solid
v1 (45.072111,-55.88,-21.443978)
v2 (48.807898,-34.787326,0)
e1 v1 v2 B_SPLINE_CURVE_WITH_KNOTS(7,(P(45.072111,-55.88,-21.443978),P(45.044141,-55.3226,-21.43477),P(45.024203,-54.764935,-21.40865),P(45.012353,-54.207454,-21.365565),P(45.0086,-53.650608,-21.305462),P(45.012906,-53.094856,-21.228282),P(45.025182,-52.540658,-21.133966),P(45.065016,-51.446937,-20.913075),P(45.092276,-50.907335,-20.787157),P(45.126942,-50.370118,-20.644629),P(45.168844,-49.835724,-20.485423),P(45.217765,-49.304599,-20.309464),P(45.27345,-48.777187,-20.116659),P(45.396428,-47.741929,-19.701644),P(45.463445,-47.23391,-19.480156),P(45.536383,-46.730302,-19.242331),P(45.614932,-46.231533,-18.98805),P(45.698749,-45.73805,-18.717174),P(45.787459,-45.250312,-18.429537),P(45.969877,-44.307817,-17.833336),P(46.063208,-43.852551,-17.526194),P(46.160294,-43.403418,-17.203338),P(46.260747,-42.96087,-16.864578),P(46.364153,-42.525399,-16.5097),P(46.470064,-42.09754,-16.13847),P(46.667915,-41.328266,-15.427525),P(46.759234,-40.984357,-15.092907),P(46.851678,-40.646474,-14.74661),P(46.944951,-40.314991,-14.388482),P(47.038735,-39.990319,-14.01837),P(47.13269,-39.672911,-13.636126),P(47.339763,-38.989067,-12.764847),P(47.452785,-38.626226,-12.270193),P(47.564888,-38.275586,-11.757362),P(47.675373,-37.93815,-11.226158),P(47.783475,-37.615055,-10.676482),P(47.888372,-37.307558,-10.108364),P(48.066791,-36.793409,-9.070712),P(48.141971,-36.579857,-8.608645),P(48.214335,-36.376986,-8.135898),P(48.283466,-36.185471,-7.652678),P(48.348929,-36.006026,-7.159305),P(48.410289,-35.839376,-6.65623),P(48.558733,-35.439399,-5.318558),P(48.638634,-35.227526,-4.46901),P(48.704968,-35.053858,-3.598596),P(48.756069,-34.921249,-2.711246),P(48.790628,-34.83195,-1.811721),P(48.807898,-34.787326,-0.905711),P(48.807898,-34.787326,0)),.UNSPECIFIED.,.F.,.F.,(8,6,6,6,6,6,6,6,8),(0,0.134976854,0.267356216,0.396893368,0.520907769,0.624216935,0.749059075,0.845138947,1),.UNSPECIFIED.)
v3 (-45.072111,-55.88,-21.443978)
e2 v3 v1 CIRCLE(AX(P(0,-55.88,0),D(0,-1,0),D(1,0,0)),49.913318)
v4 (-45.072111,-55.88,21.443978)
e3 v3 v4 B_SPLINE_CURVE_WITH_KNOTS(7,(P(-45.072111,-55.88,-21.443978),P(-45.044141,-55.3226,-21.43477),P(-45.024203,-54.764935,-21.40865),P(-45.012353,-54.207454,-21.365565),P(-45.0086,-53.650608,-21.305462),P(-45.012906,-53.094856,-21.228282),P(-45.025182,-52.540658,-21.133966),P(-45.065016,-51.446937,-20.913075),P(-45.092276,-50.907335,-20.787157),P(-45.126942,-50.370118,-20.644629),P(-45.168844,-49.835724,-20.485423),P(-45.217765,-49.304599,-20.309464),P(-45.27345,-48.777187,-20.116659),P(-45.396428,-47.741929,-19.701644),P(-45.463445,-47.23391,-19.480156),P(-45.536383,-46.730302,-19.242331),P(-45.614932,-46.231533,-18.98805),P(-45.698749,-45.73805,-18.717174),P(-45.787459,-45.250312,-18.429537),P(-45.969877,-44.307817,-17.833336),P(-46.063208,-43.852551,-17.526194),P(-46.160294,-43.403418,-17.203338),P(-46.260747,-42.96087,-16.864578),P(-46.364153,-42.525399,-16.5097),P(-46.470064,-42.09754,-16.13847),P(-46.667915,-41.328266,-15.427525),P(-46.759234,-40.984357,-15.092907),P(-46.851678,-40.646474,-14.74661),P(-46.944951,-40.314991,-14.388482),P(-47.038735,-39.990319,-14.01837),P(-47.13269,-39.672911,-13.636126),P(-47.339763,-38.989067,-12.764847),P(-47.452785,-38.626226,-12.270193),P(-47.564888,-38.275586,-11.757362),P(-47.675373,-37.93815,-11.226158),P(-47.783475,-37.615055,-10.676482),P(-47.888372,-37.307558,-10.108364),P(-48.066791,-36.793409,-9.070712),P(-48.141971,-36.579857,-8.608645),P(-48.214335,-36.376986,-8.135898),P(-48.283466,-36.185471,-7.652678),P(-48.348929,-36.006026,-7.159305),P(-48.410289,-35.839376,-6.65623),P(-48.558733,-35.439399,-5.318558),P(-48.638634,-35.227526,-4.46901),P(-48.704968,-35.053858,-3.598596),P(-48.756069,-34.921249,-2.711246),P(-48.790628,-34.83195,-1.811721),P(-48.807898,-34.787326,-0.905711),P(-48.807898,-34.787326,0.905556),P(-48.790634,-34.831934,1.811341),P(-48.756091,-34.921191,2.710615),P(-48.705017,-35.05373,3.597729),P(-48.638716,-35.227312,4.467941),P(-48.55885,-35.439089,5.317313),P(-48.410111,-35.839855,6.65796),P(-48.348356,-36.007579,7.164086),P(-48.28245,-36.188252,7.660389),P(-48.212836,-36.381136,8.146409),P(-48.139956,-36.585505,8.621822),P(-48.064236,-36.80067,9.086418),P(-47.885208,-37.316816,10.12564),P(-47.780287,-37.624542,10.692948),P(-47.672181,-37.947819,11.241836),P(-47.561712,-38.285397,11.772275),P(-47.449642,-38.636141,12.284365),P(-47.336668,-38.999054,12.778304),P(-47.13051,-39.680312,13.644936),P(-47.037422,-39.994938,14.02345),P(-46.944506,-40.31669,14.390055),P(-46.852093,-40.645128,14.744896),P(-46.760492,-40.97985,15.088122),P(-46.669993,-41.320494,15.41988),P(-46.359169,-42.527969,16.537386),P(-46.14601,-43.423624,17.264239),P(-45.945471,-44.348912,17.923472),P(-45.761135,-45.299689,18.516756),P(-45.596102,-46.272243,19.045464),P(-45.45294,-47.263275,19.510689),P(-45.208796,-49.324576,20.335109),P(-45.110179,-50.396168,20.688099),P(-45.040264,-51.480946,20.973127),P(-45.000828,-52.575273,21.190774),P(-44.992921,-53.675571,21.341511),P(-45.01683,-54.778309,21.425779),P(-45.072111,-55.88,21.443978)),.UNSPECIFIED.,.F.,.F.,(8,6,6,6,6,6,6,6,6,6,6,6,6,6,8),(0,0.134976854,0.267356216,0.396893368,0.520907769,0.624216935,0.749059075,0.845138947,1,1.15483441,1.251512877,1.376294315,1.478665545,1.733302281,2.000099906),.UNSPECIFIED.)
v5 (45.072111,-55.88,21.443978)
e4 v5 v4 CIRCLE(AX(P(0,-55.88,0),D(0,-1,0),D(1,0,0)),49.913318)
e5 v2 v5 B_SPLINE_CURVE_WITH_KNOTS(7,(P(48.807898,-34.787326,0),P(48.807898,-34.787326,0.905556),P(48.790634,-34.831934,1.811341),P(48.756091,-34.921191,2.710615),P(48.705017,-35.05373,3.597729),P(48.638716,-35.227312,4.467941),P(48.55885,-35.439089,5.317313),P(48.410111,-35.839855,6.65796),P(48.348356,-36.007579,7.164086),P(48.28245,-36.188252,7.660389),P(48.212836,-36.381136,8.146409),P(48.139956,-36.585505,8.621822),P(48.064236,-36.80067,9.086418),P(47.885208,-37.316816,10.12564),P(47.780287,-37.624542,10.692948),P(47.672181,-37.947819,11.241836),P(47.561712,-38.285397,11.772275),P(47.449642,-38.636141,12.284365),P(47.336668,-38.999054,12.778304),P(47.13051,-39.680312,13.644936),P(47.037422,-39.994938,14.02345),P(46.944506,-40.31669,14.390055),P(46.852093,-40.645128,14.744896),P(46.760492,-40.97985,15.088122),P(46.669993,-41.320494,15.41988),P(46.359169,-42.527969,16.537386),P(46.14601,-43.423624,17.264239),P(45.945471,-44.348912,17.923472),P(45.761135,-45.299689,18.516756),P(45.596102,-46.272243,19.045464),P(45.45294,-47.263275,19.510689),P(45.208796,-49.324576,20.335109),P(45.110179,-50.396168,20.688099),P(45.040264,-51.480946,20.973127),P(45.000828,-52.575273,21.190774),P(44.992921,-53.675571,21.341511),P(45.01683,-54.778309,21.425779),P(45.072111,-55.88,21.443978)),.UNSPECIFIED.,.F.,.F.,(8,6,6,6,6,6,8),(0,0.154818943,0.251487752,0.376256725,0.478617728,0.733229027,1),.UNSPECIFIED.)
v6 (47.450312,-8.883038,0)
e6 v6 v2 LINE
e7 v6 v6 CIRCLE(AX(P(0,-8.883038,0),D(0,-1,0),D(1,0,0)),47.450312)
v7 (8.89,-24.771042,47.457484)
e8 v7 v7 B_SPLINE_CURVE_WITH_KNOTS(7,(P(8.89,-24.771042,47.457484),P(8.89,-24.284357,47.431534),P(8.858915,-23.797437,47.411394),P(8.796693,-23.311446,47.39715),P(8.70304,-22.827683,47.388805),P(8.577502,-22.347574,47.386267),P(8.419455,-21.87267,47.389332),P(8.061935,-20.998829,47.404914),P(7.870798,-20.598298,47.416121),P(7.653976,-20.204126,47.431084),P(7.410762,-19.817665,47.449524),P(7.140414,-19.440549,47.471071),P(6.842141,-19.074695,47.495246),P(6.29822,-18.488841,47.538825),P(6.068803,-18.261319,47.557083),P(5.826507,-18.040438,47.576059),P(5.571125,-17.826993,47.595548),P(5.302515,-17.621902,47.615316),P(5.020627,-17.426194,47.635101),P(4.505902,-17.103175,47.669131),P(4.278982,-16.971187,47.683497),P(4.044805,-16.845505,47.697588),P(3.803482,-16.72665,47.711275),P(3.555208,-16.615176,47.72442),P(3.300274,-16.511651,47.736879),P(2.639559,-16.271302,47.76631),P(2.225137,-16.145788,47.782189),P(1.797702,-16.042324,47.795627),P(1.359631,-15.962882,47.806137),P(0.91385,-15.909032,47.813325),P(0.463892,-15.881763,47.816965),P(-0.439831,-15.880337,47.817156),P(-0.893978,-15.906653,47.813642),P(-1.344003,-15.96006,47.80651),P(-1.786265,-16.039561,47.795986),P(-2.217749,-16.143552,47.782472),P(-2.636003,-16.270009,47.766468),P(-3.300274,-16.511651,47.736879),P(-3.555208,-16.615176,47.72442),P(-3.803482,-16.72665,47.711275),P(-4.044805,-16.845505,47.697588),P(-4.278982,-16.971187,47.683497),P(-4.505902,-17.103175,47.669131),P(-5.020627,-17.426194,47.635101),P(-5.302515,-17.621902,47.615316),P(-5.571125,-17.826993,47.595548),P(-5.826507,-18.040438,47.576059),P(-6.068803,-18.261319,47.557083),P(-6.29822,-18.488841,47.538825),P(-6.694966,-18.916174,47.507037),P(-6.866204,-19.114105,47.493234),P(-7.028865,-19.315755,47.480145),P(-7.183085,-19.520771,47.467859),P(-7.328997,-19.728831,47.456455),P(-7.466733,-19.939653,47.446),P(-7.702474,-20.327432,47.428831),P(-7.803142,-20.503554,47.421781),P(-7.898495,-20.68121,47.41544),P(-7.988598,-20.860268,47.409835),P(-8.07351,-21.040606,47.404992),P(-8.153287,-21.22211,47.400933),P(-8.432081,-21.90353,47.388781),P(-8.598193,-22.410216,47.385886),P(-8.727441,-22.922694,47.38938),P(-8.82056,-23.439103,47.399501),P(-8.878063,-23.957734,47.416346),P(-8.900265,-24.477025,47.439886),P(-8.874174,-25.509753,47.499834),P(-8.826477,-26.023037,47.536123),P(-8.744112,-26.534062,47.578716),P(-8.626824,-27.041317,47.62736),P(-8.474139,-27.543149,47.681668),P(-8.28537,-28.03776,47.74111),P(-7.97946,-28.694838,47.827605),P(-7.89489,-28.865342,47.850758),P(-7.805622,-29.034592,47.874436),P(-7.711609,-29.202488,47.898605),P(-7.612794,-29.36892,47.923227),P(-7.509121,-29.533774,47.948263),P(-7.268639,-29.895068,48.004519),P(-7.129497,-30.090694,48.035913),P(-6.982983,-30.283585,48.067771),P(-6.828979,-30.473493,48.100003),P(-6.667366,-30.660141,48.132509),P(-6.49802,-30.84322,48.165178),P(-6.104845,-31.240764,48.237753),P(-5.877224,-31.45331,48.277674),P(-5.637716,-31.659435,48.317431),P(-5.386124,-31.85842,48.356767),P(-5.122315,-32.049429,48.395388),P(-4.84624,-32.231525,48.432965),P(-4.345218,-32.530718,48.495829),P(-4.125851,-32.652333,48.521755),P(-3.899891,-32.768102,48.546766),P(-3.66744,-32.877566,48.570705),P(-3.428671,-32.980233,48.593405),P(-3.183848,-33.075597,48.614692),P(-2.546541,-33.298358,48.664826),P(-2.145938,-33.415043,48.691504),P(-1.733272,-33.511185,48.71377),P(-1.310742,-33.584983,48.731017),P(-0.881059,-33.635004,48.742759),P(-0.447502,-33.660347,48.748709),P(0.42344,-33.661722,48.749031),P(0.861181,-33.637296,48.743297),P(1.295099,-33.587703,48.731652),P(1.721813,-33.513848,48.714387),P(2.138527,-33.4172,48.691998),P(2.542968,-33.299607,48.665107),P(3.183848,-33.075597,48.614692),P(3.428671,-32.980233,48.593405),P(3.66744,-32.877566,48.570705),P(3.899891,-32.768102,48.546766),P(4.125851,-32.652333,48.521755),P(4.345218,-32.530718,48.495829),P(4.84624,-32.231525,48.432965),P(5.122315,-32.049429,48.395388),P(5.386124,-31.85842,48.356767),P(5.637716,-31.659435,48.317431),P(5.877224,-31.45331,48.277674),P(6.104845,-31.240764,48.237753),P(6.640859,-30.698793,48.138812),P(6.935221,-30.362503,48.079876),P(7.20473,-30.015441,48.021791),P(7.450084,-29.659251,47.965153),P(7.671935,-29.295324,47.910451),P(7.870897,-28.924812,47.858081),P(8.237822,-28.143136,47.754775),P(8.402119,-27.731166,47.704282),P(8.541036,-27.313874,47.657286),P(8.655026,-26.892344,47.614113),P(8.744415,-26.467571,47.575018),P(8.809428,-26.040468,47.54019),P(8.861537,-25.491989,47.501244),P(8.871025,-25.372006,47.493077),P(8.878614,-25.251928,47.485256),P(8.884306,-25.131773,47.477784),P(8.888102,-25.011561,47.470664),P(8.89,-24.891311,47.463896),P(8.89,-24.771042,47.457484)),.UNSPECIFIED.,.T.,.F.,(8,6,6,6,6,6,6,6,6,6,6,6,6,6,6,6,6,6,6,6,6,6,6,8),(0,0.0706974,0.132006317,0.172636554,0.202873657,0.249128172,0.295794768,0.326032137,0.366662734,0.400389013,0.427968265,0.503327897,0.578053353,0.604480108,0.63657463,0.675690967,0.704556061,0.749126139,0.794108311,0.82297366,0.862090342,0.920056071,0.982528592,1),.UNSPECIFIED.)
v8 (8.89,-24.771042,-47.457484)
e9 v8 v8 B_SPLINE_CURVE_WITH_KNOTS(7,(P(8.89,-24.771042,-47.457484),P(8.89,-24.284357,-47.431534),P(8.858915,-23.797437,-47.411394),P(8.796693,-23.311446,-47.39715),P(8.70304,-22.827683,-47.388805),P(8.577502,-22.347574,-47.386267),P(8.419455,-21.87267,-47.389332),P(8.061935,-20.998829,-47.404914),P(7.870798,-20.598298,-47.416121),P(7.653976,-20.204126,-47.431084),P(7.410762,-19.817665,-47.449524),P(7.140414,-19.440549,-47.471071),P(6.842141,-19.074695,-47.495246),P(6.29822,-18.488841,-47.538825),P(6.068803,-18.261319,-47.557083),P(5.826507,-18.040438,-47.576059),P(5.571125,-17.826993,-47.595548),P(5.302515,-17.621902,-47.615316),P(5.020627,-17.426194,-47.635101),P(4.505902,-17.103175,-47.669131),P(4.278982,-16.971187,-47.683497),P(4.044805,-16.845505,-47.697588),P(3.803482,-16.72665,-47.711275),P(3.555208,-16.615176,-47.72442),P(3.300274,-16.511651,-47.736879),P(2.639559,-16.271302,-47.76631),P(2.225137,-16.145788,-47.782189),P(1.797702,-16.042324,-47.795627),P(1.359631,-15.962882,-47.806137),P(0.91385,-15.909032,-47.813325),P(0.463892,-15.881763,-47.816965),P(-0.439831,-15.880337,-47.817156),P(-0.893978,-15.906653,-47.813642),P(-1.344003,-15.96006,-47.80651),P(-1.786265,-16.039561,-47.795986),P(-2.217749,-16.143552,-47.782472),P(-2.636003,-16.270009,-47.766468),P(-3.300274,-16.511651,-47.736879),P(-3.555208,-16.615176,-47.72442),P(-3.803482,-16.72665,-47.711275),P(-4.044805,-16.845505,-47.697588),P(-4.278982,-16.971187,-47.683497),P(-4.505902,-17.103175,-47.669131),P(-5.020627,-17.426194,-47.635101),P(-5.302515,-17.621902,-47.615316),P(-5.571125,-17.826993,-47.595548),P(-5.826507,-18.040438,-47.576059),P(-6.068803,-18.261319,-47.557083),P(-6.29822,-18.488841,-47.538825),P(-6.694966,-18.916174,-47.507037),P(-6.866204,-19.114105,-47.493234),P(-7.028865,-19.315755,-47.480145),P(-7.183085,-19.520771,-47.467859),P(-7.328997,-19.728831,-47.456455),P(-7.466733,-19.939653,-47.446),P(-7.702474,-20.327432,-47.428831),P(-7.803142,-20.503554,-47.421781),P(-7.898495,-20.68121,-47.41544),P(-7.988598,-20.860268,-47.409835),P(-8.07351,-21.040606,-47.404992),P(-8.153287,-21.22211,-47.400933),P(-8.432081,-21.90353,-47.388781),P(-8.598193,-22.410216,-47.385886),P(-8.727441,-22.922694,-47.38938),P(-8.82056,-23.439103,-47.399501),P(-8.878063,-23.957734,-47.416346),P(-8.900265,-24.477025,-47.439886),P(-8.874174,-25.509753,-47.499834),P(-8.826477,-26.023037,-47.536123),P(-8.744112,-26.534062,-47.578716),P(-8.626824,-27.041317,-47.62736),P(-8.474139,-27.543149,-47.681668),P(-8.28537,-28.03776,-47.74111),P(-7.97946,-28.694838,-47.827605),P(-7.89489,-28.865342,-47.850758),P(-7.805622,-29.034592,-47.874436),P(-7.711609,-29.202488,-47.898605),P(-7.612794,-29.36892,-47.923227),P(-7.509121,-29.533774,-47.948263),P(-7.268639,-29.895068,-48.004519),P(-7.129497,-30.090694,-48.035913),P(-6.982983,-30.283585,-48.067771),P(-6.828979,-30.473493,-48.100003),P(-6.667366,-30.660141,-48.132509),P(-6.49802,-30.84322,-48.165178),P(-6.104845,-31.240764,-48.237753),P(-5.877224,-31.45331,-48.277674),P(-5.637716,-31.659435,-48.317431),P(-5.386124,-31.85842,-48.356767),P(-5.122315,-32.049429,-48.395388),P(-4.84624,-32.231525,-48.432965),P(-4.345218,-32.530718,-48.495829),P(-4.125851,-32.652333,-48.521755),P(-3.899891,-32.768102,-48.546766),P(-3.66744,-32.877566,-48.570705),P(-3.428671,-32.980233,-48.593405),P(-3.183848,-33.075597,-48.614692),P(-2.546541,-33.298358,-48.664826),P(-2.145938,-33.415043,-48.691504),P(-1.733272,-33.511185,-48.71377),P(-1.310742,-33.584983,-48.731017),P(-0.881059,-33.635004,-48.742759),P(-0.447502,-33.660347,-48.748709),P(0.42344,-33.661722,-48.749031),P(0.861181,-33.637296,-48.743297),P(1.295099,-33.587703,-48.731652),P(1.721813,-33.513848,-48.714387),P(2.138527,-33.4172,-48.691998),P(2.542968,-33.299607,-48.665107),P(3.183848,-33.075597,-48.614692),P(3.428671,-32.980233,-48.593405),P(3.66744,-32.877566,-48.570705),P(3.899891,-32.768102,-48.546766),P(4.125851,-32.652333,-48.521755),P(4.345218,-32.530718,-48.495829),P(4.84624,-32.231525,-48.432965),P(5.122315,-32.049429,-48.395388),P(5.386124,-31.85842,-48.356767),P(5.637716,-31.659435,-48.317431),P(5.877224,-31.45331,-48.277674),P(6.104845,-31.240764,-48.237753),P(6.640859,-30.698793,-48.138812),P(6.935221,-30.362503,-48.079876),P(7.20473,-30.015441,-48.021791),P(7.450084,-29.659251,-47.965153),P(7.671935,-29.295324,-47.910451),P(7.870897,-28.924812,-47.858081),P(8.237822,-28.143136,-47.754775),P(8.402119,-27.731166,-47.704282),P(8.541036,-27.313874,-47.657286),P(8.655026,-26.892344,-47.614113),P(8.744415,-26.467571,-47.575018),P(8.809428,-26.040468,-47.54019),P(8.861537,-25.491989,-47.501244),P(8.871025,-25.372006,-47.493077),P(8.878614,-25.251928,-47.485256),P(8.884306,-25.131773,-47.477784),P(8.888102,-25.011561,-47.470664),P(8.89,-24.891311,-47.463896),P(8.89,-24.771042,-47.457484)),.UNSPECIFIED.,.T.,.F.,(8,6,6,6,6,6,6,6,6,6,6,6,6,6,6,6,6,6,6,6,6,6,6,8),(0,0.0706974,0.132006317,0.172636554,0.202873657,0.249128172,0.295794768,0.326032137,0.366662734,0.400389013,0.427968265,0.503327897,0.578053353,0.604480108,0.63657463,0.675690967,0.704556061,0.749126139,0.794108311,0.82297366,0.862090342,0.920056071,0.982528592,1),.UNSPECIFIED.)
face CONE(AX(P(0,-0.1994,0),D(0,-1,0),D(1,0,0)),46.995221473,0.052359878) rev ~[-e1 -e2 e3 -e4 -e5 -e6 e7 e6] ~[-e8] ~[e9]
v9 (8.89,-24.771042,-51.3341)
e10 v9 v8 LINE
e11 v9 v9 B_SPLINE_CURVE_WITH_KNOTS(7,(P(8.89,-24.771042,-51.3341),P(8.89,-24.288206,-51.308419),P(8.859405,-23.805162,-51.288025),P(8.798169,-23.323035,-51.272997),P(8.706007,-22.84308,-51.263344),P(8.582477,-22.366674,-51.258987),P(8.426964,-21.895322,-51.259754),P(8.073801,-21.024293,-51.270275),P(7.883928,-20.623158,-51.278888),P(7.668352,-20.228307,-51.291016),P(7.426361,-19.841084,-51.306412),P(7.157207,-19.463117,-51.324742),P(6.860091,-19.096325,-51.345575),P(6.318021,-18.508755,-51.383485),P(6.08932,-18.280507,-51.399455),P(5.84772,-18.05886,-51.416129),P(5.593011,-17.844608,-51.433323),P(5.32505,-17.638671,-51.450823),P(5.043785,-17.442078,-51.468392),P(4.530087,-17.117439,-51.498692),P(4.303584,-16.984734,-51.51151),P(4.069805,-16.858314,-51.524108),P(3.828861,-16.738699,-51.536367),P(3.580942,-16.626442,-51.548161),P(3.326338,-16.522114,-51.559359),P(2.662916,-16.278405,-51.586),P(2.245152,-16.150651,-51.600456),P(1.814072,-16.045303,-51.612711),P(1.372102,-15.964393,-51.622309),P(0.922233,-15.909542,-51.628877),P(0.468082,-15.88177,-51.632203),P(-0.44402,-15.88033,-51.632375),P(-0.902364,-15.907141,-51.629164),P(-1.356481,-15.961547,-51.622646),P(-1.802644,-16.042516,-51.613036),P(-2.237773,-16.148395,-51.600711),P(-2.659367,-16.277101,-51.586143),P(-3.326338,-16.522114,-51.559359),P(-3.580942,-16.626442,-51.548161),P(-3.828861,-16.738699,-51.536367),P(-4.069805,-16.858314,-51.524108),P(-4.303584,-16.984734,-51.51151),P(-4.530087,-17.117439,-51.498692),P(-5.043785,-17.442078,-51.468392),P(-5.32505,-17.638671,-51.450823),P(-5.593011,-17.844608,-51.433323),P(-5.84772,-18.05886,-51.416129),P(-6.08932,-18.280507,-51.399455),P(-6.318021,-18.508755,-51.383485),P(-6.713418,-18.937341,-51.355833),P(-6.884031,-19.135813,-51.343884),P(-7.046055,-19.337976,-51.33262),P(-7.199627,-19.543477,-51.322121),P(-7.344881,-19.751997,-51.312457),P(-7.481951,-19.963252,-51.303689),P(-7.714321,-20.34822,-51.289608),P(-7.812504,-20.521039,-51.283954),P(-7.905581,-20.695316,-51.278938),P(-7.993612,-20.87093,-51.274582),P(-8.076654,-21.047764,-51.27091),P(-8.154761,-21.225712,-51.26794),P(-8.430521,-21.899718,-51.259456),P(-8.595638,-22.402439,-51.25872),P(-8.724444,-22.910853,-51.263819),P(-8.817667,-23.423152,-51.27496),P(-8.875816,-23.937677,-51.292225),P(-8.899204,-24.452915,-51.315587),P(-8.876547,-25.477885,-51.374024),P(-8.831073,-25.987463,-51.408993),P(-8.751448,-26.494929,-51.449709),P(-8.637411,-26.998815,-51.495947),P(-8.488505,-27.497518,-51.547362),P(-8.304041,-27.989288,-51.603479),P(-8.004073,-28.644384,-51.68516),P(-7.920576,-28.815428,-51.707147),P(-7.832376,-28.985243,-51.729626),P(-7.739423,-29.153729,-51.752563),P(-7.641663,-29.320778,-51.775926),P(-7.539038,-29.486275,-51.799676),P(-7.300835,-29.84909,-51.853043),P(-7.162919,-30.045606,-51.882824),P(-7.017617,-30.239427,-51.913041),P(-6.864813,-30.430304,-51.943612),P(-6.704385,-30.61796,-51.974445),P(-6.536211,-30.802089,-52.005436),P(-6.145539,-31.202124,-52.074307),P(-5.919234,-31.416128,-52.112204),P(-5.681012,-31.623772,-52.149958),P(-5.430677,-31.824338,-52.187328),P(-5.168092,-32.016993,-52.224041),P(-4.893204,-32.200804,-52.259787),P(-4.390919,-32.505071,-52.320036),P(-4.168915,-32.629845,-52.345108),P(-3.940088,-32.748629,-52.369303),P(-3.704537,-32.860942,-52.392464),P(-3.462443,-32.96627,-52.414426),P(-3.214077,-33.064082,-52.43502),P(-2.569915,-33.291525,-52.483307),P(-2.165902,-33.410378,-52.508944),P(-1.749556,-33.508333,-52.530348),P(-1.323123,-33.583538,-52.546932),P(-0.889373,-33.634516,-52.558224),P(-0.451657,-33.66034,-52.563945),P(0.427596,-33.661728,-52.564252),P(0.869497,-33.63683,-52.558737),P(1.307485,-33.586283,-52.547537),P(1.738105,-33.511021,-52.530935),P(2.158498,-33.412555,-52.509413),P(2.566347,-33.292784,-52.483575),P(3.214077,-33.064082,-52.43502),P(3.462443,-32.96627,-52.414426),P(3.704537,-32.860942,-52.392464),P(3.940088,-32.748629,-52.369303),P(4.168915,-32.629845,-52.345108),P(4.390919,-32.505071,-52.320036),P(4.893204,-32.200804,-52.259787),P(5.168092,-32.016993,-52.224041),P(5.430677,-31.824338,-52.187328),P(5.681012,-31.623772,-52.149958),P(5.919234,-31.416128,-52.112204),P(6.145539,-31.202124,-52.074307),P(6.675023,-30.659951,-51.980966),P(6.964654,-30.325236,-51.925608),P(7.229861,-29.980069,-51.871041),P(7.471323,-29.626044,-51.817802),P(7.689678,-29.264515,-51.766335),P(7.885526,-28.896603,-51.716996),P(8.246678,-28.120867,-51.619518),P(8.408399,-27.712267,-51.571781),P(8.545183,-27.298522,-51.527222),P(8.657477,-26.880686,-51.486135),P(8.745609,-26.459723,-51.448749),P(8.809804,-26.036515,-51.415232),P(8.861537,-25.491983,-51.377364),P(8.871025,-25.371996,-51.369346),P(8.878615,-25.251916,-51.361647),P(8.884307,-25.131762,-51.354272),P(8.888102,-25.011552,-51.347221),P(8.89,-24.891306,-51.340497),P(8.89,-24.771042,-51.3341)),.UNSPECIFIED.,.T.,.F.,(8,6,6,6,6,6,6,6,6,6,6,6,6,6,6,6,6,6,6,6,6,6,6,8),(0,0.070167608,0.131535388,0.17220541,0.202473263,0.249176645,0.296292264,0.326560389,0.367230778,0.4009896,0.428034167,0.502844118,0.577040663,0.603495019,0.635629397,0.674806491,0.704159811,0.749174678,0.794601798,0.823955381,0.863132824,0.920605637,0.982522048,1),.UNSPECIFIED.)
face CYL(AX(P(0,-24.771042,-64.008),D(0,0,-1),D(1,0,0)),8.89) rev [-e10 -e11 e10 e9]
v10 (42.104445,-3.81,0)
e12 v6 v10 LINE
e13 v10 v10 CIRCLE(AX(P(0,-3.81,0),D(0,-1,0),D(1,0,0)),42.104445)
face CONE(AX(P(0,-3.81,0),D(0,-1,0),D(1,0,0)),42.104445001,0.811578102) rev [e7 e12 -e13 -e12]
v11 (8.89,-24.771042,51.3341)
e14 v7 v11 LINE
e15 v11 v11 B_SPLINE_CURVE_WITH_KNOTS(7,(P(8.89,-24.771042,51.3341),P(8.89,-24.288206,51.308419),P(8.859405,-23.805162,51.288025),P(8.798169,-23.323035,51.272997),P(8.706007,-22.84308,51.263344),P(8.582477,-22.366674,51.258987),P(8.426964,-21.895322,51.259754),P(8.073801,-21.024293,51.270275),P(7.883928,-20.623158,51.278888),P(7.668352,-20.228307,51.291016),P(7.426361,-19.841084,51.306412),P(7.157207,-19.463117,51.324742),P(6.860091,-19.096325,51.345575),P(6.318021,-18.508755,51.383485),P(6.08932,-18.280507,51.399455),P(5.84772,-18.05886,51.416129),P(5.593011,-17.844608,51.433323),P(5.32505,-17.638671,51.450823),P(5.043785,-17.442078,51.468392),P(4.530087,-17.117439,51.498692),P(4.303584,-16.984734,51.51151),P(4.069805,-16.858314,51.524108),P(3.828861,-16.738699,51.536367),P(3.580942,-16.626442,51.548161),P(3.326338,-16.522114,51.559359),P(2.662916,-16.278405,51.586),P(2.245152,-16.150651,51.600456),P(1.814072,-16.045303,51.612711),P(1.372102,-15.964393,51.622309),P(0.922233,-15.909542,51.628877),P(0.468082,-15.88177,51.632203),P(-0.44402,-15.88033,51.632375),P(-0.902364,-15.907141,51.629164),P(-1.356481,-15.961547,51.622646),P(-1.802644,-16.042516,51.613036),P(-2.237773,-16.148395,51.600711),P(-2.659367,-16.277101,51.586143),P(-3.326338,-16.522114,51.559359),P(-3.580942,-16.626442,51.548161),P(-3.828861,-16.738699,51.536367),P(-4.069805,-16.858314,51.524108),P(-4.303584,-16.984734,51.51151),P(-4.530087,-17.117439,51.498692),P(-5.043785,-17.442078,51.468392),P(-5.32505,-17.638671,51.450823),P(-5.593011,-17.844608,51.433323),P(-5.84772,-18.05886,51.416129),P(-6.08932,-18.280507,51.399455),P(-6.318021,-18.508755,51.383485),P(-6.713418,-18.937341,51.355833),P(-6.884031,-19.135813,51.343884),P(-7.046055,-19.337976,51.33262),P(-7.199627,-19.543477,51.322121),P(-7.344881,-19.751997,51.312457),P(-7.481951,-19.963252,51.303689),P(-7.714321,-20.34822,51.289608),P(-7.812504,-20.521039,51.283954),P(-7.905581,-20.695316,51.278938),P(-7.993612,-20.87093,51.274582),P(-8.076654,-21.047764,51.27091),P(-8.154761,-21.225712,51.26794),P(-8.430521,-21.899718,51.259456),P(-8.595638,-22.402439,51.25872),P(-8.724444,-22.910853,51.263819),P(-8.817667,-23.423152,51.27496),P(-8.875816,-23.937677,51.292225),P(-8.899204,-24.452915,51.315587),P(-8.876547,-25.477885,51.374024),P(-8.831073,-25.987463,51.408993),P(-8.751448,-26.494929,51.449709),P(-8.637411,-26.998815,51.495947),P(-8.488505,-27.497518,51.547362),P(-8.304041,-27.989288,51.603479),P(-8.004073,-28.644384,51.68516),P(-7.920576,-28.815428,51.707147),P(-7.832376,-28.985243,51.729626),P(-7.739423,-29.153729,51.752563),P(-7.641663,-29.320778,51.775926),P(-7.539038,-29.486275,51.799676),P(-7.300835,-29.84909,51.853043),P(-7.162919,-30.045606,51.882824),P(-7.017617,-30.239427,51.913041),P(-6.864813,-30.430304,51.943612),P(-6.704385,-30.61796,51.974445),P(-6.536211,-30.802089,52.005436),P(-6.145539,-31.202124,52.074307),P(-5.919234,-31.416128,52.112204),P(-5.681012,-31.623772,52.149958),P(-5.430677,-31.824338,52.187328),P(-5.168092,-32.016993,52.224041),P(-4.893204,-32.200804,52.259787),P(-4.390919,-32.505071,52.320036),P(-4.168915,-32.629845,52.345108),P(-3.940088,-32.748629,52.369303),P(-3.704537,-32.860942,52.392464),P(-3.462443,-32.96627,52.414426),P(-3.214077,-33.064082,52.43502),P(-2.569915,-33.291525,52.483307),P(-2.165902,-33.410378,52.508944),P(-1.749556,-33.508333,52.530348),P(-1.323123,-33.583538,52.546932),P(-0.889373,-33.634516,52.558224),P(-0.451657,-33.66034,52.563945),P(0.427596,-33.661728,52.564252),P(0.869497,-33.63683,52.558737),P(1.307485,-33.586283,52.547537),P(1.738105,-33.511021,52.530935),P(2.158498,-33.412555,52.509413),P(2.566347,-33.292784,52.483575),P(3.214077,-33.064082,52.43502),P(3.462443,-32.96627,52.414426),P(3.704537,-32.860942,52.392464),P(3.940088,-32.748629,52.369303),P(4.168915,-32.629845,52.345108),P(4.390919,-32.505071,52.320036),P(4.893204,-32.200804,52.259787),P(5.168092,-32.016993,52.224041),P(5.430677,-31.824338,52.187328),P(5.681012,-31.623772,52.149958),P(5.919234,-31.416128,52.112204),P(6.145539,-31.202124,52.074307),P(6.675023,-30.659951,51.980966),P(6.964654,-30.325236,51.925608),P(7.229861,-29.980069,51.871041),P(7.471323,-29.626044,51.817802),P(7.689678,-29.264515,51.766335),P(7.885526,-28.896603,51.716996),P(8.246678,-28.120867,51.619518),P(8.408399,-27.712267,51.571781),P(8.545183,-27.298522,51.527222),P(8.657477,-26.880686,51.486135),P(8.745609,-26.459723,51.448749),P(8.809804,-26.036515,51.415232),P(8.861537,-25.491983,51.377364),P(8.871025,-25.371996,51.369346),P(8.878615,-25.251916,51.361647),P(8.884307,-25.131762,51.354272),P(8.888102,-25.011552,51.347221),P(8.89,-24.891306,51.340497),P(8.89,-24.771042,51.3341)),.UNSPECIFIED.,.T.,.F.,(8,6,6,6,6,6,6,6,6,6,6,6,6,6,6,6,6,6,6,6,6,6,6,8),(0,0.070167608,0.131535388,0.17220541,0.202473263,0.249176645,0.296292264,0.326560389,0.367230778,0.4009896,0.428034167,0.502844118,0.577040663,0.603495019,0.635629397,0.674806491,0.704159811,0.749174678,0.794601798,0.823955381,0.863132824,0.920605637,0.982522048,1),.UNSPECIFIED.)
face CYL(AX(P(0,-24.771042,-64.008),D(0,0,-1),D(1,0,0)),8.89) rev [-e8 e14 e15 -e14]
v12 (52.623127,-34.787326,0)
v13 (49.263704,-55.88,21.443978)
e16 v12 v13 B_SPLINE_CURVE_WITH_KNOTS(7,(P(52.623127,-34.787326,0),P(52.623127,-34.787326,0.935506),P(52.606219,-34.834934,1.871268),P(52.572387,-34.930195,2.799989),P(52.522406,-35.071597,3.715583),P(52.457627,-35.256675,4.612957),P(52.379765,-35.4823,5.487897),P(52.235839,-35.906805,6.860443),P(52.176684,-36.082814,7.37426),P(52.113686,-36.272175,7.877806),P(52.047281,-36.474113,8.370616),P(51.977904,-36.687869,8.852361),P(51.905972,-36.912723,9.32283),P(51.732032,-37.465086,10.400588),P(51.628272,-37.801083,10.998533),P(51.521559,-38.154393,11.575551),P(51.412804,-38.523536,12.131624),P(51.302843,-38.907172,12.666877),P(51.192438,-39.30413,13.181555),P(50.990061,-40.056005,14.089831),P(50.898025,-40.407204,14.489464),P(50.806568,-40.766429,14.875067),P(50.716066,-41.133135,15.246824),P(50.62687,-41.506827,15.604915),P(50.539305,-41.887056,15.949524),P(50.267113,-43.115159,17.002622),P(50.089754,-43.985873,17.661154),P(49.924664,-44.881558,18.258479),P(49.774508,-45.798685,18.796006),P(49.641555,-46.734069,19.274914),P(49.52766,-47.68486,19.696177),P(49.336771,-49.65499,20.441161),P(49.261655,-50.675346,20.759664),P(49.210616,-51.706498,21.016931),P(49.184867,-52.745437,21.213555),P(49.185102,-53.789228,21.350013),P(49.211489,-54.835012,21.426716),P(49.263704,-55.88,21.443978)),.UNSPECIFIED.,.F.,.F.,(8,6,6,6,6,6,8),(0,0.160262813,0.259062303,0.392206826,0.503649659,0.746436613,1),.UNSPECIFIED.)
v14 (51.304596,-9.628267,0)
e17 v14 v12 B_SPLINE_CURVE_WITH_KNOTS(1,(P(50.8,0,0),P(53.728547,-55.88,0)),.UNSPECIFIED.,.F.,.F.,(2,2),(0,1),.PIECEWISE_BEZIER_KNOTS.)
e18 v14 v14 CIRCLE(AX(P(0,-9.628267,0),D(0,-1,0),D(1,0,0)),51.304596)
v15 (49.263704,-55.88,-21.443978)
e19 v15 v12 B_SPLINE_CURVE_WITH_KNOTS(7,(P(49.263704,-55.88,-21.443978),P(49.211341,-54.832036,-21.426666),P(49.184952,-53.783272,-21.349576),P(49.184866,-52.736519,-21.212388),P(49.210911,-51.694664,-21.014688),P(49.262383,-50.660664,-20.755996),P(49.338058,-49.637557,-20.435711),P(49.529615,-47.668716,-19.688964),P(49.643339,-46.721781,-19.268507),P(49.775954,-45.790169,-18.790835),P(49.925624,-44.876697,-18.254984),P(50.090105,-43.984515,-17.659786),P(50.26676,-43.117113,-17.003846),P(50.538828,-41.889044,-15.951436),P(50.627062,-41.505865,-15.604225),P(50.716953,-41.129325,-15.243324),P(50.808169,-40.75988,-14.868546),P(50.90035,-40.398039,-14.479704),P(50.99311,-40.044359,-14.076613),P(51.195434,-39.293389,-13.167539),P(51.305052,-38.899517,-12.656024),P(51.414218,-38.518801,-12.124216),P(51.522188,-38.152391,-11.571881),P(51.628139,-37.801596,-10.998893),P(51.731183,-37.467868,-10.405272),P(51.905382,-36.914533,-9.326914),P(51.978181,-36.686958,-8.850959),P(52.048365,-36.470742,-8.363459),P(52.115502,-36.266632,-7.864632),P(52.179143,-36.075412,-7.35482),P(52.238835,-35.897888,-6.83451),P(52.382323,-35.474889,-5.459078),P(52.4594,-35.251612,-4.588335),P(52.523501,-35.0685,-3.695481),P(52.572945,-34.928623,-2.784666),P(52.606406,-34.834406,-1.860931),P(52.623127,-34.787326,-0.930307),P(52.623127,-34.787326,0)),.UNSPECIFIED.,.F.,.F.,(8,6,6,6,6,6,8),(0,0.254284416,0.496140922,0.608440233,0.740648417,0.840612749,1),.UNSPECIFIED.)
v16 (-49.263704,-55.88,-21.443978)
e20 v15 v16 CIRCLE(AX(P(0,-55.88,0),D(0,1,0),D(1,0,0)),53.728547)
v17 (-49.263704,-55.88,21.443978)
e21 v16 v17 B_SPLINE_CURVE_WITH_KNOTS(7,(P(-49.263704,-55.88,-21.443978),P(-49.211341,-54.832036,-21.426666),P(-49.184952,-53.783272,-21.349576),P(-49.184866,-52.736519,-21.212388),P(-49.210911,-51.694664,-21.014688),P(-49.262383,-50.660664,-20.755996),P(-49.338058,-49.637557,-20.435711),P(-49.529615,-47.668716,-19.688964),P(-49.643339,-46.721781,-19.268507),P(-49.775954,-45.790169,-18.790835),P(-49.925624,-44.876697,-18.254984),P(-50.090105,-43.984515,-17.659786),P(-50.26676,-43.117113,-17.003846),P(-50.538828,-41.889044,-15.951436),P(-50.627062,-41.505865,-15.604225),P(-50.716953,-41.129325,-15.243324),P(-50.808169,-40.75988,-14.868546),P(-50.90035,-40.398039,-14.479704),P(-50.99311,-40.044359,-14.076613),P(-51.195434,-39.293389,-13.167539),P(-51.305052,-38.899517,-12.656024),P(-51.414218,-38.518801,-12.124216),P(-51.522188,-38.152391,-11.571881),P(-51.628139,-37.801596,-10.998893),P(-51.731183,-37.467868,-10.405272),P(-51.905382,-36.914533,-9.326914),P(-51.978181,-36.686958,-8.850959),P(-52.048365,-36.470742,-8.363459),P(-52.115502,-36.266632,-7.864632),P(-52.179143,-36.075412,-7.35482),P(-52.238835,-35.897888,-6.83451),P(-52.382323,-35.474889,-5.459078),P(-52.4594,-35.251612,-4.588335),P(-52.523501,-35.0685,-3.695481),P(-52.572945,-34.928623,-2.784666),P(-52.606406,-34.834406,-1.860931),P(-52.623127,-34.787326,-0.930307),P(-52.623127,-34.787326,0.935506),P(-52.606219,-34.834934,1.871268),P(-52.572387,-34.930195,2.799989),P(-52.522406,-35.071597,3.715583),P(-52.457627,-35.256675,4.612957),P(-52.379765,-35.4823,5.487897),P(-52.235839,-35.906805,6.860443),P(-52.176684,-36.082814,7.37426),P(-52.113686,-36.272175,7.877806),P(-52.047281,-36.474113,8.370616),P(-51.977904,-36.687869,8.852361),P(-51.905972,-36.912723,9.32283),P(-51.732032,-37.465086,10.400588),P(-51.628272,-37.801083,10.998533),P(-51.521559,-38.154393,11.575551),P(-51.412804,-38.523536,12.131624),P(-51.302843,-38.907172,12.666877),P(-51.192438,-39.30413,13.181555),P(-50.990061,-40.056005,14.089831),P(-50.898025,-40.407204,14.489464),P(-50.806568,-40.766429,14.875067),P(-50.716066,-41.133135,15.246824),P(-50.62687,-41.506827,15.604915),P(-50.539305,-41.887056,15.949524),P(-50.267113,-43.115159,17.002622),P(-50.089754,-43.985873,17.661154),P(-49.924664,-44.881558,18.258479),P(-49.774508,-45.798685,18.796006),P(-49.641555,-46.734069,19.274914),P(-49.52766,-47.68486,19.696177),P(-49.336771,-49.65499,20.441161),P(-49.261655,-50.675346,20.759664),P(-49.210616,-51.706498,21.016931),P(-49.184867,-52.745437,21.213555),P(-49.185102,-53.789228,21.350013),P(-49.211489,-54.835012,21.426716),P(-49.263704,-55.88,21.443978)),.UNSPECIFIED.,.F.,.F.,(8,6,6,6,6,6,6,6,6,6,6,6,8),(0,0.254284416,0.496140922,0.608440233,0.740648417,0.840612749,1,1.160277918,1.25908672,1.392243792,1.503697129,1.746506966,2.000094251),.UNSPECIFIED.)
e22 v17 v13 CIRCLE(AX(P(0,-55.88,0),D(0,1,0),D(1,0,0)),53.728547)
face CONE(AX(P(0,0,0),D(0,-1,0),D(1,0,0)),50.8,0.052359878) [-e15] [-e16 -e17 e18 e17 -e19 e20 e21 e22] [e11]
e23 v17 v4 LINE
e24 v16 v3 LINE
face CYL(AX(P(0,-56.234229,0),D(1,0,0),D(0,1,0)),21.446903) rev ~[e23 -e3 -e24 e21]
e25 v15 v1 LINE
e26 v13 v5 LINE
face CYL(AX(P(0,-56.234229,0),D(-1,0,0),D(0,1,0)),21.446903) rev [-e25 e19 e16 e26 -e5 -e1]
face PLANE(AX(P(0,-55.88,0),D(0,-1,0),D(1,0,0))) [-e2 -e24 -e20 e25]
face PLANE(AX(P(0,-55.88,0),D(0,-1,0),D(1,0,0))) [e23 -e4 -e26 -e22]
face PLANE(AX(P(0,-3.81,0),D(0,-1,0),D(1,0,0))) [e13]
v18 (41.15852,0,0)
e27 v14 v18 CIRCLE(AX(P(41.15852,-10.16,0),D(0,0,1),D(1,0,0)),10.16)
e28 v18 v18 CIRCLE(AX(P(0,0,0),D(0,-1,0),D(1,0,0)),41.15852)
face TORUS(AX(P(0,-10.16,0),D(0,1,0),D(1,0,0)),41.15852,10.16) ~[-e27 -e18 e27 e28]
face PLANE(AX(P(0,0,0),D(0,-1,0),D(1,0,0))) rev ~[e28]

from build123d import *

# Parameters (mm, degrees)
F0_R          = 50.8
F1_DEPTH      = 55.88
F1_TAPER      = -3
F2_T          = -3.81
F4_R          = 21.44690309
F5_DEPTH      = 58.166
F5_DEPTH_BACK = 65.786
F6_R          = 10.16
F7_SIZE       = 5.08
F9_R          = 8.89
F10_DEPTH     = 133.858


with BuildPart() as f1:
    # F0 (on Front) → F1 (new body)
    with BuildSketch(Plane.XZ):
        Circle(F0_R)
    extrude(amount=F1_DEPTH, taper=F1_TAPER)

    # F2
    f2_openings = [f1.faces().sort_by_distance(p)[0] for p in [
        (0, -55.88, 0),
    ]]
    offset(amount=F2_T, openings=f2_openings, kind=Kind.INTERSECTION)

    # F4 (on Right) → F5 (cut, two sides)
    with BuildSketch(Plane.YZ) as f5_sk:
        with Locations((-56.2342293561, 0)):
            Circle(F4_R)
    extrude(amount=-F5_DEPTH, mode=Mode.SUBTRACT)
    extrude(f5_sk.sketch, amount=F5_DEPTH_BACK, mode=Mode.SUBTRACT)

    # F6
    f6_edges = [f1.edges().sort_by_distance(p)[0] for p in [
        (-50.8, 0, 0),
    ]]
    fillet(f6_edges, radius=F6_R)

    # F7
    f7_edges = [f1.edges().sort_by_distance(p)[0] for p in [
        (-47.184445, -3.81, 0),
    ]]
    chamfer(f7_edges, length=F7_SIZE)

    # F9 (on offset) → F10 (cut)
    with BuildSketch(Plane.XY.offset(-64.008)):
        with Locations((0, -24.771042074)):
            Circle(F9_R)
    extrude(amount=F10_DEPTH, mode=Mode.SUBTRACT)


solid = f1.part
